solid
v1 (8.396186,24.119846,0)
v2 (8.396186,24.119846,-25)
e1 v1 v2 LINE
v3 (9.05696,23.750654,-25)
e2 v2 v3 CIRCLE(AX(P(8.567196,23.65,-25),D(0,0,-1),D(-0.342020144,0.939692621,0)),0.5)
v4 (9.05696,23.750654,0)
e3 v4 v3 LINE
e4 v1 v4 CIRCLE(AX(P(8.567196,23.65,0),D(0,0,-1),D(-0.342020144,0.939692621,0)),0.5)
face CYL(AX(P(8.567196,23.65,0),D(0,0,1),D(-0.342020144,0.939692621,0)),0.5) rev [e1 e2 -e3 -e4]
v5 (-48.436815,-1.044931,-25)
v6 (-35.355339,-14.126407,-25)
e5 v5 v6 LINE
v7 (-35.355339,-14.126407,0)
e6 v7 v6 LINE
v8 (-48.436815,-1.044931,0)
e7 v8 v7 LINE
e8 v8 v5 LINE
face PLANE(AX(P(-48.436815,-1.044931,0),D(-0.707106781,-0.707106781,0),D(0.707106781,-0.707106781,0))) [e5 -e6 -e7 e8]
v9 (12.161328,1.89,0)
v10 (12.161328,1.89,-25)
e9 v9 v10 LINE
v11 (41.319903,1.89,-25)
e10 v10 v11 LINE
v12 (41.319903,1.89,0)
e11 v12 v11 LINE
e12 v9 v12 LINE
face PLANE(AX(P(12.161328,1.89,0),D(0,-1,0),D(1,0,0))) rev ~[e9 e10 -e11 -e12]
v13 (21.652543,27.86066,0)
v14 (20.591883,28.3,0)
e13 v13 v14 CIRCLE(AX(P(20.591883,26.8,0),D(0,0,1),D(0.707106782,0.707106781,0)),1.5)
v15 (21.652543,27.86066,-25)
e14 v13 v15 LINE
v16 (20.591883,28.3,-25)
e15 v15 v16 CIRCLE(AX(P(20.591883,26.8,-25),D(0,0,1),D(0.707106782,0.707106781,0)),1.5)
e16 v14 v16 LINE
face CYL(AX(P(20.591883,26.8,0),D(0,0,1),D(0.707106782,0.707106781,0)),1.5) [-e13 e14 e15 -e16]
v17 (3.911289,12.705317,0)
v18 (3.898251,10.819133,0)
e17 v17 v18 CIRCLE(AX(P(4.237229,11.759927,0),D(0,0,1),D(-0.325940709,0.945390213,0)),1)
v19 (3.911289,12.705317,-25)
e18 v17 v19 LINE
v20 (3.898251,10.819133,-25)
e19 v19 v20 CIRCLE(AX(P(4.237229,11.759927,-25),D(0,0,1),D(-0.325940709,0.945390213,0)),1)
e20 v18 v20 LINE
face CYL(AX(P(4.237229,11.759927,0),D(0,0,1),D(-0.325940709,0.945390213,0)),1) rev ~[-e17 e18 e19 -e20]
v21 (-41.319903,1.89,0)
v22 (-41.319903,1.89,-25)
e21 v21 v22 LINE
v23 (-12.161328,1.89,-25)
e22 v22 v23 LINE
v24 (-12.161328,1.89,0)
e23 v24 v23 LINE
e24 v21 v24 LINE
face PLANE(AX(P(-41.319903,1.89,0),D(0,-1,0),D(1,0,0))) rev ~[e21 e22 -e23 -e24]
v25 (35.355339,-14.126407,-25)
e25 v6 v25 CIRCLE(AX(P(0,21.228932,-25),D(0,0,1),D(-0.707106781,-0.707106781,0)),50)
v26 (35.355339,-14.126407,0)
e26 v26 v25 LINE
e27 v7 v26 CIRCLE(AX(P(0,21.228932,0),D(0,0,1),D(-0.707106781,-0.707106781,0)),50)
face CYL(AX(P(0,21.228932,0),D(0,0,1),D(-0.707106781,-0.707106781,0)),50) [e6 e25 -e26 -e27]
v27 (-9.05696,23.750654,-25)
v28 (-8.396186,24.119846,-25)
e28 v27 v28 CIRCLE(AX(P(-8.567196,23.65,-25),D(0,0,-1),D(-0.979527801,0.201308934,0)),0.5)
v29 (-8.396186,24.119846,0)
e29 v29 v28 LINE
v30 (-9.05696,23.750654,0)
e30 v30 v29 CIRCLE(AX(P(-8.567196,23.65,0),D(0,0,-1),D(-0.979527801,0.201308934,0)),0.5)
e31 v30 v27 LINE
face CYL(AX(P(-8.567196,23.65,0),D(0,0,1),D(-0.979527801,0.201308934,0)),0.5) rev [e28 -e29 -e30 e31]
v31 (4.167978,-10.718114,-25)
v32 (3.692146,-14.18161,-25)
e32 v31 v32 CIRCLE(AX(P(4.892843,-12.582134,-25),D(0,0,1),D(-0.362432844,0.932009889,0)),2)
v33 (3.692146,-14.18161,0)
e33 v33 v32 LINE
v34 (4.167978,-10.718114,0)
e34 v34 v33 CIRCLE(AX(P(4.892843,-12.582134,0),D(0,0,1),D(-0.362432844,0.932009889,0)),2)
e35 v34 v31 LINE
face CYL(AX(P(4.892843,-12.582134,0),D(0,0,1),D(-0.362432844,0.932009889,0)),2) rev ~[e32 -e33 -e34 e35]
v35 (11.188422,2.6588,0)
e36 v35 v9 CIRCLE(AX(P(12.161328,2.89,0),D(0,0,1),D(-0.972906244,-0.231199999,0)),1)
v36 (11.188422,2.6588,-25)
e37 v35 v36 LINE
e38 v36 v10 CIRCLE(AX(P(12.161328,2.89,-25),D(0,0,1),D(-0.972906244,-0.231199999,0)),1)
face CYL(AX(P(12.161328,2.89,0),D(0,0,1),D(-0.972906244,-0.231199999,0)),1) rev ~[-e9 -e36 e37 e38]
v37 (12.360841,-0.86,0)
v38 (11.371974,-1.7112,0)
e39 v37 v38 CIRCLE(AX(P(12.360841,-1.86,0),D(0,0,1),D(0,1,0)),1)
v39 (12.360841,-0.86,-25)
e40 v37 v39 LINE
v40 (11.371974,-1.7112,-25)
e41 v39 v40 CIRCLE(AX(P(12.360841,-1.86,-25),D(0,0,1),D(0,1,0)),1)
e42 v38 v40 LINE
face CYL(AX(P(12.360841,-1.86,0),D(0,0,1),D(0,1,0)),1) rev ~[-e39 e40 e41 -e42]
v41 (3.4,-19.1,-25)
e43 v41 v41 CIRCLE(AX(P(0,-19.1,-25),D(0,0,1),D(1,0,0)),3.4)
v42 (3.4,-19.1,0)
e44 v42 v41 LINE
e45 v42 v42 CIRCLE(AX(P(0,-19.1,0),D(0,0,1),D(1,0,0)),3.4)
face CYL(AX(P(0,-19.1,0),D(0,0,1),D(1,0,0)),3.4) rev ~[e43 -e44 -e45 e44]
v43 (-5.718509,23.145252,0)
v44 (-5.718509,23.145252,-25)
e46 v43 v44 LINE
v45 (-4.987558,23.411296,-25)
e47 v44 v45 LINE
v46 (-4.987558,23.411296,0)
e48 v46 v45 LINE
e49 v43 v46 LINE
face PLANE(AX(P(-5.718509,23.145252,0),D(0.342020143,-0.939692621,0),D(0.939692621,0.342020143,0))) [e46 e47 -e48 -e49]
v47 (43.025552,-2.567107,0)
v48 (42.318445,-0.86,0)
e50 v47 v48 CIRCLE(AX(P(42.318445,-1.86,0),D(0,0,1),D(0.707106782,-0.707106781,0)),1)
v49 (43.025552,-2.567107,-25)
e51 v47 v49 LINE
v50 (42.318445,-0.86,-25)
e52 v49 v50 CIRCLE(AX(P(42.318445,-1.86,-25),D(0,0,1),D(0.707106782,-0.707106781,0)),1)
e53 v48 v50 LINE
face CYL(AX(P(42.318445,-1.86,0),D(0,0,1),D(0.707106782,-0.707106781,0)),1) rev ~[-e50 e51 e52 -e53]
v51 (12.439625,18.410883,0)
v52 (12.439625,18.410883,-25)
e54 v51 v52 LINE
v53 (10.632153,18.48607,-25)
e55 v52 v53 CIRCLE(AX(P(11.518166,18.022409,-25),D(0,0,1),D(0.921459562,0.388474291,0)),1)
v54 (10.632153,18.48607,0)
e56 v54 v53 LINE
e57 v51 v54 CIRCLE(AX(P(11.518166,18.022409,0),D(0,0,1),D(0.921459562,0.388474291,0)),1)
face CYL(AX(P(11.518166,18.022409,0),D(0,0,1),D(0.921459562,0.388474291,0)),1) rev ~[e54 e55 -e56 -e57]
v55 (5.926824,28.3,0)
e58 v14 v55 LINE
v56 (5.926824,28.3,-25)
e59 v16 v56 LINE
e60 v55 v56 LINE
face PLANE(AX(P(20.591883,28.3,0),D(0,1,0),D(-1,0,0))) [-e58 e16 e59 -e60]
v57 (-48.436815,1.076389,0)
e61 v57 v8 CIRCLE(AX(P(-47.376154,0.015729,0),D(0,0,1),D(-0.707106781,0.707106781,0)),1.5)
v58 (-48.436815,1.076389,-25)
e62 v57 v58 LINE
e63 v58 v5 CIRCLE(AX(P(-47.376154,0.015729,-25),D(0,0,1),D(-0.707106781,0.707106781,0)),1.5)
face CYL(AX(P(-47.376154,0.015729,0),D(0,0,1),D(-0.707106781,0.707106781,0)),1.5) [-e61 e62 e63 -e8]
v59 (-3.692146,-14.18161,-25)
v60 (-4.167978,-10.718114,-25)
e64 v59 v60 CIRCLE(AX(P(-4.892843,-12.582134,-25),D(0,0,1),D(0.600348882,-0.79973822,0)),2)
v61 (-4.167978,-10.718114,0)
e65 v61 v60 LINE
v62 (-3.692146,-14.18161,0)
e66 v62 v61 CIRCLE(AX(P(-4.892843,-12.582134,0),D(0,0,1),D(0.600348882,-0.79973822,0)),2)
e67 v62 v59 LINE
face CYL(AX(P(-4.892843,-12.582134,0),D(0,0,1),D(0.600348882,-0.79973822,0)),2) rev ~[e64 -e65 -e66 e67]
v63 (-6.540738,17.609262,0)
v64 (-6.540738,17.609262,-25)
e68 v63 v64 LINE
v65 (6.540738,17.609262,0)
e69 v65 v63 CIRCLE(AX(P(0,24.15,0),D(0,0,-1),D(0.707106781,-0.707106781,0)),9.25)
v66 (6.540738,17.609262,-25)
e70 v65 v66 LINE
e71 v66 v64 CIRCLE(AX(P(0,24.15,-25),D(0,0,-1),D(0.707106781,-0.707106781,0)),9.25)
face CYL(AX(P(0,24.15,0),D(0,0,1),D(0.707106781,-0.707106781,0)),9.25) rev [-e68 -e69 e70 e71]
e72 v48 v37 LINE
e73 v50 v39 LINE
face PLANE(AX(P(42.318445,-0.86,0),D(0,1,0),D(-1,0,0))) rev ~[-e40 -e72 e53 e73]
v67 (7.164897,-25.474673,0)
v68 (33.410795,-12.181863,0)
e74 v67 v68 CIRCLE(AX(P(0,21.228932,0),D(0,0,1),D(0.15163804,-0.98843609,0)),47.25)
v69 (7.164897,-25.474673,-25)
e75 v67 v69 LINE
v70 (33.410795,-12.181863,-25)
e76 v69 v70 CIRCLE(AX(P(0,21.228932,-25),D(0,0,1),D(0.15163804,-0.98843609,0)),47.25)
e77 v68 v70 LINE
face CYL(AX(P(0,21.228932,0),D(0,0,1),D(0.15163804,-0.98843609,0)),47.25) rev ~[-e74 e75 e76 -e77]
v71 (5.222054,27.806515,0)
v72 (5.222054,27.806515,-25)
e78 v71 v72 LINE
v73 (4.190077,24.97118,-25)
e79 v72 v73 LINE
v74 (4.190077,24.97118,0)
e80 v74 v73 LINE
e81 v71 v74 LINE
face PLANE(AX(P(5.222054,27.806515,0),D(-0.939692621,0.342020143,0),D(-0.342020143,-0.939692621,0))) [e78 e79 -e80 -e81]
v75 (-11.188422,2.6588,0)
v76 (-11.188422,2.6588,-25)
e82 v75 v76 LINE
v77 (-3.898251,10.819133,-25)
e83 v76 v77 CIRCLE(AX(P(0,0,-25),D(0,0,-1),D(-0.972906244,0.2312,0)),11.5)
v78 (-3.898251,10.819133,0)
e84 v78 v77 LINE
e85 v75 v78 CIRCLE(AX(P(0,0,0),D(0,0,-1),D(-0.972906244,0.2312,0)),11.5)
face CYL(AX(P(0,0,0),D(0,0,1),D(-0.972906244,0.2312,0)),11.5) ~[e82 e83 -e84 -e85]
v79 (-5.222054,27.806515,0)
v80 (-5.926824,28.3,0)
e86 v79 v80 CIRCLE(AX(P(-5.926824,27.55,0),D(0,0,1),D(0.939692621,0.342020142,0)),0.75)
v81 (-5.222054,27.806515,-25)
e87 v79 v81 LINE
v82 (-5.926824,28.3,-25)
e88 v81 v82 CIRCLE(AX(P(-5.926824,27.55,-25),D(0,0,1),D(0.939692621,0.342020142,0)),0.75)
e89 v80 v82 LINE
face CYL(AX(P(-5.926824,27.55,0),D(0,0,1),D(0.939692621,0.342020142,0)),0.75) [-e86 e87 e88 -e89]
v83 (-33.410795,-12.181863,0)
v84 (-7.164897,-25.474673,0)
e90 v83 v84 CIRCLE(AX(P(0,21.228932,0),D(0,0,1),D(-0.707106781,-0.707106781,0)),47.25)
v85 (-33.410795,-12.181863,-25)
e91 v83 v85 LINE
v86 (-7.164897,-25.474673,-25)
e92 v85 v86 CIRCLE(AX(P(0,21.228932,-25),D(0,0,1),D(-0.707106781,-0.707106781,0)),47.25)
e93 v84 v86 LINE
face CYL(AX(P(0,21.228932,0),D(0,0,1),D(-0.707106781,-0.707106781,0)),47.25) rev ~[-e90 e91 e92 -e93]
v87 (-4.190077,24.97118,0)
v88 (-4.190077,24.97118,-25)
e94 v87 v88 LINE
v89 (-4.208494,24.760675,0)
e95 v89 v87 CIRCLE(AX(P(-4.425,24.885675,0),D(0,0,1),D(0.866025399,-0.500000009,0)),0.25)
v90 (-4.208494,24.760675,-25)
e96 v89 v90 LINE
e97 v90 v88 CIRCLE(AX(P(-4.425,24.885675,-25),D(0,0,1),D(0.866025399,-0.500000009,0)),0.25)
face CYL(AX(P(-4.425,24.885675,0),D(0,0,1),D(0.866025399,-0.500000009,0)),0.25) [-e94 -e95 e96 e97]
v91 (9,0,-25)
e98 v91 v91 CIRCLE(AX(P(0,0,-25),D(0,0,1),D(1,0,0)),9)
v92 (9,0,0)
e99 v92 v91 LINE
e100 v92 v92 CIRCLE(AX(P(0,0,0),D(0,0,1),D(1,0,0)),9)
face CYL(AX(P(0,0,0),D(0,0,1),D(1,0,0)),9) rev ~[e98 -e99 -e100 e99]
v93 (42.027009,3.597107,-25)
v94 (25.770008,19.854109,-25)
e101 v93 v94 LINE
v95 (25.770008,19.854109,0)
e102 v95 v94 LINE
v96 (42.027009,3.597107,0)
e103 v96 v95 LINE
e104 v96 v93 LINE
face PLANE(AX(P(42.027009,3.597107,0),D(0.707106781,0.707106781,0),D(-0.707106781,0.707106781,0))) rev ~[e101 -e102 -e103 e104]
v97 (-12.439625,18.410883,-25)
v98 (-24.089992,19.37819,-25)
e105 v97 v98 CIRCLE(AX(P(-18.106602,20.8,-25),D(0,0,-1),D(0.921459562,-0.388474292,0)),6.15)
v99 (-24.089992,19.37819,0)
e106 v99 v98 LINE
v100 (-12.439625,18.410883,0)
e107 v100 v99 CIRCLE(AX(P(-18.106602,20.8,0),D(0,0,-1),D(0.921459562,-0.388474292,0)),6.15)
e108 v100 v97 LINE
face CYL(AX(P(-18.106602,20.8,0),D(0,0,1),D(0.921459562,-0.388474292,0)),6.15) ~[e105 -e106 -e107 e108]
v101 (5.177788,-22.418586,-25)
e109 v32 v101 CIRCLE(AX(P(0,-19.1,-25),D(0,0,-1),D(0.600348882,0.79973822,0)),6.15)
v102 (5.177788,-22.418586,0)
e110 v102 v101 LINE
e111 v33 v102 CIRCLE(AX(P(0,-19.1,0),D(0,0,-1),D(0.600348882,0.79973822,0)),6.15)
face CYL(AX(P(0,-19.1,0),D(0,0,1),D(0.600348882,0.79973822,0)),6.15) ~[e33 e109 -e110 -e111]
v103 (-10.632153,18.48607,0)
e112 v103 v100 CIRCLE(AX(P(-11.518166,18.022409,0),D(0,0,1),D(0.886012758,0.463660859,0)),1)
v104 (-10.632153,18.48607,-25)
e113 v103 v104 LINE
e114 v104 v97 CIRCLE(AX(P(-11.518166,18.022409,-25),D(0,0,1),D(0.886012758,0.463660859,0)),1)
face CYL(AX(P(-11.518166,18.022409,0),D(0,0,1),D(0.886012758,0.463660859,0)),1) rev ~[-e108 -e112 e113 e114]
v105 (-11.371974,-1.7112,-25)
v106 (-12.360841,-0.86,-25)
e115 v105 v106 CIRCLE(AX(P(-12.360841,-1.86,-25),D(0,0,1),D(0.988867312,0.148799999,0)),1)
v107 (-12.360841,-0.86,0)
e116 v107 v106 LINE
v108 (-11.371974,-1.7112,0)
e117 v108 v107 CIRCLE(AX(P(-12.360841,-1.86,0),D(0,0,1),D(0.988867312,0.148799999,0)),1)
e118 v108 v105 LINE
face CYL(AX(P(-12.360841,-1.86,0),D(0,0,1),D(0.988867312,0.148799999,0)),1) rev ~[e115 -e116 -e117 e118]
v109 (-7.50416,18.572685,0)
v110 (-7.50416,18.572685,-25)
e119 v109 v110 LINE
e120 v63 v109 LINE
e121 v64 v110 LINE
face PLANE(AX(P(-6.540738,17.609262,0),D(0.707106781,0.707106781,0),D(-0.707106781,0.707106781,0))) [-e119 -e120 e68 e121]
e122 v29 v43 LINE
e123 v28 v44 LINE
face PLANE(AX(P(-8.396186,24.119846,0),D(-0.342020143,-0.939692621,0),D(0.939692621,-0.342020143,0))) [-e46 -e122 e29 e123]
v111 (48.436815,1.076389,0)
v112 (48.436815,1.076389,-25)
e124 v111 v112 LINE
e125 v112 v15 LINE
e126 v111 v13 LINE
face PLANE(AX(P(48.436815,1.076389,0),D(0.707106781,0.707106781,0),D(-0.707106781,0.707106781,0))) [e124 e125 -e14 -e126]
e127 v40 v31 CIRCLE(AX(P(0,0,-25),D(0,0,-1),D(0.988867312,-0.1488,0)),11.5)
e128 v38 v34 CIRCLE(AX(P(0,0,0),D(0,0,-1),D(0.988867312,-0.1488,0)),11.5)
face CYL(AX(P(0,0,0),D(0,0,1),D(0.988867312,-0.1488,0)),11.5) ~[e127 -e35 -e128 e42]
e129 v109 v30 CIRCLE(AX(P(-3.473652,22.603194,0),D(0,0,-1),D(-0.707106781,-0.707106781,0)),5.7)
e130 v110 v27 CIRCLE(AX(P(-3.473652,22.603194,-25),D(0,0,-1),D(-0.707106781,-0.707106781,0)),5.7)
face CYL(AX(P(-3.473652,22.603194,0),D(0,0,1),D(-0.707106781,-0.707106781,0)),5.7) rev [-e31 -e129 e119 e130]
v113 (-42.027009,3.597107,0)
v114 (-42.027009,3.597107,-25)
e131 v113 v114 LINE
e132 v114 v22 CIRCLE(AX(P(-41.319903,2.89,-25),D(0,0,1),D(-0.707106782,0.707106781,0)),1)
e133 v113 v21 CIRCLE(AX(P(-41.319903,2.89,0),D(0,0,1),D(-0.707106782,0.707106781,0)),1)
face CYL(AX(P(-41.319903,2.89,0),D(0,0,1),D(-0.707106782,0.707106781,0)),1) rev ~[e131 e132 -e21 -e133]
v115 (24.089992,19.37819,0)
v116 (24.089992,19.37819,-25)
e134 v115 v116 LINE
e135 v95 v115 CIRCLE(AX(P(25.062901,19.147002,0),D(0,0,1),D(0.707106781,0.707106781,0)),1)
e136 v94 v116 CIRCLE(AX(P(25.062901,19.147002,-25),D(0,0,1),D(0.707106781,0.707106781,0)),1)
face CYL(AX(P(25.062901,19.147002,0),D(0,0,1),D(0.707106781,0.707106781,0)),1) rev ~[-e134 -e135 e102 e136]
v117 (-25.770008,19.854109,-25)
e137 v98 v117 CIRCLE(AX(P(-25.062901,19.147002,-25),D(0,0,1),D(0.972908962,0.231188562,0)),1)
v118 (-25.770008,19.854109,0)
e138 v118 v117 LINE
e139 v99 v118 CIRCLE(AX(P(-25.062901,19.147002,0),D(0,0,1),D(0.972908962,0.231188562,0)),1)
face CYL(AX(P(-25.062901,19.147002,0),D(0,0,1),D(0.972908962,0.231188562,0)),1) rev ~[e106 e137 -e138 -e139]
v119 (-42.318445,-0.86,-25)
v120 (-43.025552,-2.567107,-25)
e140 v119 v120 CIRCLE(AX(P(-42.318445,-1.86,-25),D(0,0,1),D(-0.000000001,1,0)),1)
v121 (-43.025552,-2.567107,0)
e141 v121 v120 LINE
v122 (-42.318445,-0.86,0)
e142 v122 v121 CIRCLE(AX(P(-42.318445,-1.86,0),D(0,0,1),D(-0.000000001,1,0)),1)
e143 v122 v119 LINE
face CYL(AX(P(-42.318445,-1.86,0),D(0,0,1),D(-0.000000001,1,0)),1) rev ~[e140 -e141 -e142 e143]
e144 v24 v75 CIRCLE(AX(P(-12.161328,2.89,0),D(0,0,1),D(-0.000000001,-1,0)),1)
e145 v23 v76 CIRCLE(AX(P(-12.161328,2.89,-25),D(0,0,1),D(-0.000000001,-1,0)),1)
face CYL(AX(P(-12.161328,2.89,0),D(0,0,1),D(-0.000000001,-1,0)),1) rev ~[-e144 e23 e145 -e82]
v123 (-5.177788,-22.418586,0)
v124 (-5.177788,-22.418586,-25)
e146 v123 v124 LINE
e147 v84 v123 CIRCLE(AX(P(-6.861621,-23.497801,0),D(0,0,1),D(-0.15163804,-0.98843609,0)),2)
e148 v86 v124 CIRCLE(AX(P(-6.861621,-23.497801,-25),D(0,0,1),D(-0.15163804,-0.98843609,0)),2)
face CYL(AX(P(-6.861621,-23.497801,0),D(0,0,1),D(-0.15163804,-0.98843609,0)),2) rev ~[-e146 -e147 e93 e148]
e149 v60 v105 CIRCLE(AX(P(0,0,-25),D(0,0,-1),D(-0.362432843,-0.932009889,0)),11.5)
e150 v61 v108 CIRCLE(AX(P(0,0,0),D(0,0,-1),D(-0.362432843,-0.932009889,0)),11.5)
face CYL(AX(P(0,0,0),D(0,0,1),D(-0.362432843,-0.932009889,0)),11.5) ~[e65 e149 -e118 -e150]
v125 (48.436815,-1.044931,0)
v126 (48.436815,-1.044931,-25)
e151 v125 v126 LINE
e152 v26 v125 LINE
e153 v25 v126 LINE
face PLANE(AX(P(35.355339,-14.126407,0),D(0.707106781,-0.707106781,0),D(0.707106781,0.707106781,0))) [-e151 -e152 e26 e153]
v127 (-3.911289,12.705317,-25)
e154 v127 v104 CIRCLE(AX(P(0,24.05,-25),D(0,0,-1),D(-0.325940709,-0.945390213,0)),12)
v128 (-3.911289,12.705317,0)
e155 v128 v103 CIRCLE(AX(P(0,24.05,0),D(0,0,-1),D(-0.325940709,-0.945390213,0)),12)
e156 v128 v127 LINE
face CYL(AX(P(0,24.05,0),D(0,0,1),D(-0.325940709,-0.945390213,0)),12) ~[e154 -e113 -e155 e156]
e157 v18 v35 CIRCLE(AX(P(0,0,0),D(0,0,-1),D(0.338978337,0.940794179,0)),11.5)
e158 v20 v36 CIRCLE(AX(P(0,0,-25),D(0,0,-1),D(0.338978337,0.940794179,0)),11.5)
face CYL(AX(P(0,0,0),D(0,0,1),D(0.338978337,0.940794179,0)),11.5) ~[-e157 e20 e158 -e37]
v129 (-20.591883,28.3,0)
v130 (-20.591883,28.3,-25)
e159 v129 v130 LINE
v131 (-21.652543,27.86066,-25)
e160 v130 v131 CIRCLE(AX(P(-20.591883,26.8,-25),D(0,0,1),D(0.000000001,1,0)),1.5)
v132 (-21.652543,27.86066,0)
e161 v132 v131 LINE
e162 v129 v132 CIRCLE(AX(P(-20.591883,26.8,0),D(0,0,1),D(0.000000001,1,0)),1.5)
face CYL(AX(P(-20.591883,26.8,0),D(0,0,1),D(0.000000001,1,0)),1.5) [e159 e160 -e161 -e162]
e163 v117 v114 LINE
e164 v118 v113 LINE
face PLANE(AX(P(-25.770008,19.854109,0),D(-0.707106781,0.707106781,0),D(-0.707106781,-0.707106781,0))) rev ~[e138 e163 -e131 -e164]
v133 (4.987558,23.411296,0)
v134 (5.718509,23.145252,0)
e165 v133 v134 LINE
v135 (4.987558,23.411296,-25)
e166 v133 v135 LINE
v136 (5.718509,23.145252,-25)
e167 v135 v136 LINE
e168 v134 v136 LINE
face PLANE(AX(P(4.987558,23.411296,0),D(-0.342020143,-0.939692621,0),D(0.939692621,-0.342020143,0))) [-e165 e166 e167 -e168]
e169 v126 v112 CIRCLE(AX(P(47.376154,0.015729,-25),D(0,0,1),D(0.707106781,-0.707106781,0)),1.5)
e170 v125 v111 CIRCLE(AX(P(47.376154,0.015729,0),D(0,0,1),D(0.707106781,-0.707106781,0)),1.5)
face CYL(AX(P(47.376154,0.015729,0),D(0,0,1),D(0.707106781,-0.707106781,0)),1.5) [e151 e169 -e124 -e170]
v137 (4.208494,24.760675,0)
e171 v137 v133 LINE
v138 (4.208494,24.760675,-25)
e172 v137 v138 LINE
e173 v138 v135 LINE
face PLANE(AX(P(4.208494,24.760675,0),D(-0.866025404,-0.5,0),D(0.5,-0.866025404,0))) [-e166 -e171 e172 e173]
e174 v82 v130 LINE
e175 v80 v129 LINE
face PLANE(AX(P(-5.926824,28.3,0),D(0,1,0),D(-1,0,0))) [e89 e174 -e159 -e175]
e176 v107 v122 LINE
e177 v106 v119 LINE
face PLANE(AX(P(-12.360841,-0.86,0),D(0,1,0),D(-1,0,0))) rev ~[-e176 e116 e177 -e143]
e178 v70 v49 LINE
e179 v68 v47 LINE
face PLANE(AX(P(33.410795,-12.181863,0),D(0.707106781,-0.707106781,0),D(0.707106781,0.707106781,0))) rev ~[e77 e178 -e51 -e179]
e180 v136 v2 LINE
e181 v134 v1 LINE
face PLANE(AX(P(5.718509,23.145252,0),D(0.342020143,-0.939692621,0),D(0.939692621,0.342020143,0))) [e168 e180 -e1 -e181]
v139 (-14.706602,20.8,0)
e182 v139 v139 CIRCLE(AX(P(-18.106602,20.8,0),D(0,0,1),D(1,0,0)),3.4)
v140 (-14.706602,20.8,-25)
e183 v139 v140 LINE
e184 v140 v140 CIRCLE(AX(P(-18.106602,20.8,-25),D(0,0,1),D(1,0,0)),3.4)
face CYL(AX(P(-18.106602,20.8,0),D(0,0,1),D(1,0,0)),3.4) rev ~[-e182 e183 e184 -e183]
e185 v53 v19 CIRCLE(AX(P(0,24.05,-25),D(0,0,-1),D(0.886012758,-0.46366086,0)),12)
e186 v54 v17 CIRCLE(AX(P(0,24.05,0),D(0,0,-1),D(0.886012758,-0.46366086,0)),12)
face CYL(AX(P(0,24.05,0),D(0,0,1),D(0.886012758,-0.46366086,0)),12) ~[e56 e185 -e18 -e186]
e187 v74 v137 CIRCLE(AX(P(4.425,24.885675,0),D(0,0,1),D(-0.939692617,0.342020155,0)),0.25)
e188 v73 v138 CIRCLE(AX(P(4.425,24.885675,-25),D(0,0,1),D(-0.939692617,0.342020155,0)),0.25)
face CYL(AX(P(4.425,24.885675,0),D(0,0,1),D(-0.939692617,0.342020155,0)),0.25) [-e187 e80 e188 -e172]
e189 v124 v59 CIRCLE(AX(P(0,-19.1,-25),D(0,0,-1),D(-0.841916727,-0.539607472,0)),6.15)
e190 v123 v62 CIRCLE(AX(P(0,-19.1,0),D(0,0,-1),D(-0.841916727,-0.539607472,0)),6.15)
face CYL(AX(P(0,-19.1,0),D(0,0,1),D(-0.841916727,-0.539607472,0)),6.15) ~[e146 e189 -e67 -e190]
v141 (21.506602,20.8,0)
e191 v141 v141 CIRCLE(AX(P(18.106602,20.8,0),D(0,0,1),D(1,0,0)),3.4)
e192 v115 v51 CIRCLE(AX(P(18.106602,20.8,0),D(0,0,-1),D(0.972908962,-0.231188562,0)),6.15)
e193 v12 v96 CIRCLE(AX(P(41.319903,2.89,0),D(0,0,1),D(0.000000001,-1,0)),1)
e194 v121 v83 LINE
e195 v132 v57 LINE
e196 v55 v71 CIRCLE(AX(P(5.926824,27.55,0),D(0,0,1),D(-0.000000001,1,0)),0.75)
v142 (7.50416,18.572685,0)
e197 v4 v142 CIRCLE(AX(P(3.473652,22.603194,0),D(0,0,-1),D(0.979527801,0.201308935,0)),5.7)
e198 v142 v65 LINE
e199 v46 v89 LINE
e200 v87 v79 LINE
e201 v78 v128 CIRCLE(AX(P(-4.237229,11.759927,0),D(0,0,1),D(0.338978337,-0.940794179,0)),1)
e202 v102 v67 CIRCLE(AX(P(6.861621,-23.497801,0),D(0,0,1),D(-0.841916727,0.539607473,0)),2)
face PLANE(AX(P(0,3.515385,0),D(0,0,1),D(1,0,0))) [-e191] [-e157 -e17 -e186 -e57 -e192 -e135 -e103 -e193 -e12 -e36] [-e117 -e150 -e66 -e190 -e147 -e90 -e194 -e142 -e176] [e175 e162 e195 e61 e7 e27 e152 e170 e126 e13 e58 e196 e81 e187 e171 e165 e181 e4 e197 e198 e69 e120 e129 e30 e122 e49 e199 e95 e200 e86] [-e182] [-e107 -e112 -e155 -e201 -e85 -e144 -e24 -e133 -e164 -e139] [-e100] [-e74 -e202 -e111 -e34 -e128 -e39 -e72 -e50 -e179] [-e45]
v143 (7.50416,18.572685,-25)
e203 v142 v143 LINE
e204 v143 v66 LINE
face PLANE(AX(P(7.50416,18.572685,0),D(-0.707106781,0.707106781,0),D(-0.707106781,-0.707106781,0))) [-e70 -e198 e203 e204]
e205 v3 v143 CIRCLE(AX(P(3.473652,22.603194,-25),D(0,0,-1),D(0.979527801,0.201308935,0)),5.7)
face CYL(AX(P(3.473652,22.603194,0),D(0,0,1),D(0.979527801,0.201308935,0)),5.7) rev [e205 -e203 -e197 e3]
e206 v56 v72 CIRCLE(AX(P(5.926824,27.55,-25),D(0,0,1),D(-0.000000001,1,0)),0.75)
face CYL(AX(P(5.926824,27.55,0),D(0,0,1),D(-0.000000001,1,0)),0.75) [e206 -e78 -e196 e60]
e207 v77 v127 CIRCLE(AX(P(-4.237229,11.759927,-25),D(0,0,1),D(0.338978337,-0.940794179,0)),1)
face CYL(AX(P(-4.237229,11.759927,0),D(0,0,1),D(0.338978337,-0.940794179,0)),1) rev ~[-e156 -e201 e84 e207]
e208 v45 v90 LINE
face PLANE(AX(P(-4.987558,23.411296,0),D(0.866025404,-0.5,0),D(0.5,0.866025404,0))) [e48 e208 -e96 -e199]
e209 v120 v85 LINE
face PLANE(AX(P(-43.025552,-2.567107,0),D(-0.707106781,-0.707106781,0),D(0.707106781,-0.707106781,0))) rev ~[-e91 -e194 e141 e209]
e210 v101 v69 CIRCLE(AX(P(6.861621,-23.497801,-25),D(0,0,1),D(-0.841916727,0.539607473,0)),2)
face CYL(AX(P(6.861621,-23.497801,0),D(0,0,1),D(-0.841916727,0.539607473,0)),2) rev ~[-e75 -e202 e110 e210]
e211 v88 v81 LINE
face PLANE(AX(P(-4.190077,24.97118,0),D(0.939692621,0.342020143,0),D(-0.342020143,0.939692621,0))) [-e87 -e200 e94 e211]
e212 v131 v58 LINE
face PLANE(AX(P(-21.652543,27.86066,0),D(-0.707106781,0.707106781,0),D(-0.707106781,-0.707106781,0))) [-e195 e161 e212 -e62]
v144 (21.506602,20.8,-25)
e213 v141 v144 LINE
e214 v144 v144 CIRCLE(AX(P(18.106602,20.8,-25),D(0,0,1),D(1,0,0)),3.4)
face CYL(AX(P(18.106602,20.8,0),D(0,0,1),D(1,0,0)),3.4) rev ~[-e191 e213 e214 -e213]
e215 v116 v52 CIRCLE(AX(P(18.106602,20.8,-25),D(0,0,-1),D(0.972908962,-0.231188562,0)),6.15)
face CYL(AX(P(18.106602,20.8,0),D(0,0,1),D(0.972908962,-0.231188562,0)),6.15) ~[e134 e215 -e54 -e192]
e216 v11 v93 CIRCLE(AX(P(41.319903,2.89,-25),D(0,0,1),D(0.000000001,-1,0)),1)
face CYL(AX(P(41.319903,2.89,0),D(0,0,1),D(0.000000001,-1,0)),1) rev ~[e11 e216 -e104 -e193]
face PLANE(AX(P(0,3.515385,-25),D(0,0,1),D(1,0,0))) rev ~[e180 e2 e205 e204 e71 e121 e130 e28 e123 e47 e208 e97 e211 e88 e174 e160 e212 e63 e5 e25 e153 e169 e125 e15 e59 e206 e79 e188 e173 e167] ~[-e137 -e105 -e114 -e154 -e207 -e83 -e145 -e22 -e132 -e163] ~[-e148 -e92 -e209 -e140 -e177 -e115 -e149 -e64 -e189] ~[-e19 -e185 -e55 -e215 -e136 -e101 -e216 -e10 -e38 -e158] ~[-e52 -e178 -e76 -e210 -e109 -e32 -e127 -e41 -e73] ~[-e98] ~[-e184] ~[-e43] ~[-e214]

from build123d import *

# Parameters (mm, degrees)
SK_MAIN_EXTRUSION_R   = 3.4
SK_MAIN_EXTRUSION_R_2 = 9
MAIN_EXTRUSION_DEPTH  = 25


with BuildPart() as part:
    # Sk Main Extrusion → Main Extrusion (new body)
    with BuildSketch(Plane.XY):
        with BuildLine():
            Line((5.222054351, 27.806515107), (4.190076845, 24.971180212))
            ThreePointArc((4.190076845, 24.971180212), (4.175951325, 24.863886241), (4.208493649, 24.760675177))
            Line((4.208493649, 24.760675177), (4.987558066, 23.411296024))
            Line((4.987558066, 23.411296024), (5.718509166, 23.145251581))
            Line((5.718509166, 23.145251581), (8.396186179, 24.11984631))
            ThreePointArc((8.396186179, 24.11984631), (8.811074612, 24.086489799), (9.056960151, 23.750654467))
            ThreePointArc((9.056960151, 23.750654467), (8.933433013, 20.965882372), (7.504160339, 18.572684887))
            Line((7.504160339, 18.572684887), (6.540737726, 17.609262274))
            ThreePointArc((6.540737726, 17.609262274), (0, 14.9), (-6.540737726, 17.609262274))
            Line((-6.540737726, 17.609262274), (-7.504160339, 18.572684887))
            ThreePointArc((-7.504160339, 18.572684887), (-8.933433013, 20.965882372), (-9.056960151, 23.750654467))
            ThreePointArc((-9.056960151, 23.750654467), (-8.811074612, 24.086489799), (-8.396186179, 24.11984631))
            Line((-8.396186179, 24.11984631), (-5.718509166, 23.145251581))
            Line((-5.718509166, 23.145251581), (-4.987558066, 23.411296024))
            Line((-4.987558066, 23.411296024), (-4.208493649, 24.760675177))
            ThreePointArc((-4.208493649, 24.760675177), (-4.175951325, 24.863886241), (-4.190076845, 24.971180212))
            Line((-4.190076845, 24.971180212), (-5.222054351, 27.806515107))
            ThreePointArc((-5.222054351, 27.806515107), (-5.496641489, 28.164364033), (-5.926823816, 28.3))
            Line((-5.926823816, 28.3), (-20.591883092, 28.3))
            ThreePointArc((-20.591883092, 28.3), (-21.165908241, 28.185819299), (-21.652543264, 27.860660172))
            Line((-21.652543264, 27.860660172), (-48.436814511, 1.076388924))
            ThreePointArc((-48.436814511, 1.076388924), (-48.876154339, 0.015728753), (-48.436814511, -1.044931419))
            Line((-48.436814511, -1.044931419), (-35.355339059, -14.126406871))
            ThreePointArc((-35.355339059, -14.126406871), (0, -28.771067812), (35.355339059, -14.126406871))
            Line((35.355339059, -14.126406871), (48.436814511, -1.044931419))
            ThreePointArc((48.436814511, -1.044931419), (48.876154339, 0.015728753), (48.436814511, 1.076388924))
            Line((48.436814511, 1.076388924), (21.652543264, 27.860660172))
            ThreePointArc((21.652543264, 27.860660172), (21.165908241, 28.185819299), (20.591883092, 28.3))
            Line((20.591883092, 28.3), (5.926823816, 28.3))
            ThreePointArc((5.926823816, 28.3), (5.496641489, 28.164364033), (5.222054351, 27.806515107))
        make_face()
        with Locations((-18.106601718, 20.8)):
            Circle(SK_MAIN_EXTRUSION_R, mode=Mode.SUBTRACT)
        with Locations((18.106601718, 20.8)):
            Circle(SK_MAIN_EXTRUSION_R, mode=Mode.SUBTRACT)
        Circle(SK_MAIN_EXTRUSION_R_2, mode=Mode.SUBTRACT)
        with Locations((0, -19.1)):
            Circle(SK_MAIN_EXTRUSION_R, mode=Mode.SUBTRACT)
        with BuildLine():
            Line((33.410795411, -12.181863223), (43.025551853, -2.567106781))
            ThreePointArc((43.025551853, -2.567106781), (43.242324604, -1.477316568), (42.318445072, -0.86))
            Line((42.318445072, -0.86), (12.360841395, -0.86))
            ThreePointArc((12.360841395, -0.86), (11.708461138, -1.102108187), (11.371974084, -1.7112))
            ThreePointArc((11.371974084, -1.7112), (8.980737669, -7.183059997), (4.167977698, -10.718113729))
            ThreePointArc((4.167977698, -10.718113729), (2.911454942, -12.309920658), (3.692145622, -14.181609948))
            ThreePointArc((3.692145622, -14.181609948), (6.052344462, -18.008383533), (5.177787873, -22.418585955))
            ThreePointArc((5.177787873, -22.418585955), (5.184897798, -24.588029411), (7.164897408, -25.474673081))
            ThreePointArc((7.164897408, -25.474673081), (21.348803489, -20.923067641), (33.410795411, -12.181863223))
        make_face(mode=Mode.SUBTRACT)
        with BuildLine():
            Line((-12.360841395, -0.86), (-42.318445072, -0.86))
            ThreePointArc((-42.318445072, -0.86), (-43.242324604, -1.477316568), (-43.025551853, -2.567106781))
            Line((-43.025551853, -2.567106781), (-33.410795411, -12.181863223))
            ThreePointArc((-33.410795411, -12.181863223), (-21.348803489, -20.923067641), (-7.164897408, -25.474673081))
            ThreePointArc((-7.164897408, -25.474673081), (-5.184897798, -24.588029411), (-5.177787873, -22.418585955))
            ThreePointArc((-5.177787873, -22.418585955), (-6.052344462, -18.008383533), (-3.692145622, -14.181609948))
            ThreePointArc((-3.692145622, -14.181609948), (-2.911454942, -12.309920658), (-4.167977698, -10.718113729))
            ThreePointArc((-4.167977698, -10.718113729), (-8.980737669, -7.183059997), (-11.371974084, -1.7112))
            ThreePointArc((-11.371974084, -1.7112), (-11.708461138, -1.102108187), (-12.360841395, -0.86))
        make_face(mode=Mode.SUBTRACT)
        with BuildLine():
            Line((42.027009358, 3.597106781), (25.770007578, 19.854108561))
            ThreePointArc((25.770007578, 19.854108561), (24.790343945, 20.109141459), (24.089991835, 19.378190342))
            ThreePointArc((24.089991835, 19.378190342), (18.61547326, 14.671089024), (12.43962541, 18.410883107))
            ThreePointArc((12.43962541, 18.410883107), (11.559727537, 19.021544755), (10.632153091, 18.486069675))
            ThreePointArc((10.632153091, 18.486069675), (7.825100476, 14.952318837), (3.911288507, 12.705317448))
            ThreePointArc((3.911288507, 12.705317448), (3.237253104, 11.76683924), (3.898250879, 10.819133056))
            ThreePointArc((3.898250879, 10.819133056), (8.576111128, 7.661613271), (11.188421808, 2.6588))
            ThreePointArc((11.188421808, 2.6588), (11.541328052, 2.10539819), (12.161328052, 1.89))
            Line((12.161328052, 1.89), (41.319902577, 1.89))
            ThreePointArc((41.319902577, 1.89), (42.243782109, 2.507316568), (42.027009358, 3.597106781))
        make_face(mode=Mode.SUBTRACT)
        with BuildLine():
            Line((-25.770007578, 19.854108561), (-42.027009358, 3.597106781))
            ThreePointArc((-42.027009358, 3.597106781), (-42.243782109, 2.507316568), (-41.319902577, 1.89))
            Line((-41.319902577, 1.89), (-12.161328052, 1.89))
            ThreePointArc((-12.161328052, 1.89), (-11.541328052, 2.10539819), (-11.188421808, 2.6588))
            ThreePointArc((-11.188421808, 2.6588), (-8.576111128, 7.661613271), (-3.898250879, 10.819133056))
            ThreePointArc((-3.898250879, 10.819133056), (-3.237253104, 11.76683924), (-3.911288507, 12.705317448))
            ThreePointArc((-3.911288507, 12.705317448), (-7.825100476, 14.952318837), (-10.632153091, 18.486069675))
            ThreePointArc((-10.632153091, 18.486069675), (-11.559727537, 19.021544755), (-12.43962541, 18.410883107))
            ThreePointArc((-12.43962541, 18.410883107), (-18.61547326, 14.671089024), (-24.089991835, 19.378190342))
            ThreePointArc((-24.089991835, 19.378190342), (-24.790343945, 20.109141459), (-25.770007578, 19.854108561))
        make_face(mode=Mode.SUBTRACT)
    extrude(amount=-MAIN_EXTRUSION_DEPTH)


solid = part.part
